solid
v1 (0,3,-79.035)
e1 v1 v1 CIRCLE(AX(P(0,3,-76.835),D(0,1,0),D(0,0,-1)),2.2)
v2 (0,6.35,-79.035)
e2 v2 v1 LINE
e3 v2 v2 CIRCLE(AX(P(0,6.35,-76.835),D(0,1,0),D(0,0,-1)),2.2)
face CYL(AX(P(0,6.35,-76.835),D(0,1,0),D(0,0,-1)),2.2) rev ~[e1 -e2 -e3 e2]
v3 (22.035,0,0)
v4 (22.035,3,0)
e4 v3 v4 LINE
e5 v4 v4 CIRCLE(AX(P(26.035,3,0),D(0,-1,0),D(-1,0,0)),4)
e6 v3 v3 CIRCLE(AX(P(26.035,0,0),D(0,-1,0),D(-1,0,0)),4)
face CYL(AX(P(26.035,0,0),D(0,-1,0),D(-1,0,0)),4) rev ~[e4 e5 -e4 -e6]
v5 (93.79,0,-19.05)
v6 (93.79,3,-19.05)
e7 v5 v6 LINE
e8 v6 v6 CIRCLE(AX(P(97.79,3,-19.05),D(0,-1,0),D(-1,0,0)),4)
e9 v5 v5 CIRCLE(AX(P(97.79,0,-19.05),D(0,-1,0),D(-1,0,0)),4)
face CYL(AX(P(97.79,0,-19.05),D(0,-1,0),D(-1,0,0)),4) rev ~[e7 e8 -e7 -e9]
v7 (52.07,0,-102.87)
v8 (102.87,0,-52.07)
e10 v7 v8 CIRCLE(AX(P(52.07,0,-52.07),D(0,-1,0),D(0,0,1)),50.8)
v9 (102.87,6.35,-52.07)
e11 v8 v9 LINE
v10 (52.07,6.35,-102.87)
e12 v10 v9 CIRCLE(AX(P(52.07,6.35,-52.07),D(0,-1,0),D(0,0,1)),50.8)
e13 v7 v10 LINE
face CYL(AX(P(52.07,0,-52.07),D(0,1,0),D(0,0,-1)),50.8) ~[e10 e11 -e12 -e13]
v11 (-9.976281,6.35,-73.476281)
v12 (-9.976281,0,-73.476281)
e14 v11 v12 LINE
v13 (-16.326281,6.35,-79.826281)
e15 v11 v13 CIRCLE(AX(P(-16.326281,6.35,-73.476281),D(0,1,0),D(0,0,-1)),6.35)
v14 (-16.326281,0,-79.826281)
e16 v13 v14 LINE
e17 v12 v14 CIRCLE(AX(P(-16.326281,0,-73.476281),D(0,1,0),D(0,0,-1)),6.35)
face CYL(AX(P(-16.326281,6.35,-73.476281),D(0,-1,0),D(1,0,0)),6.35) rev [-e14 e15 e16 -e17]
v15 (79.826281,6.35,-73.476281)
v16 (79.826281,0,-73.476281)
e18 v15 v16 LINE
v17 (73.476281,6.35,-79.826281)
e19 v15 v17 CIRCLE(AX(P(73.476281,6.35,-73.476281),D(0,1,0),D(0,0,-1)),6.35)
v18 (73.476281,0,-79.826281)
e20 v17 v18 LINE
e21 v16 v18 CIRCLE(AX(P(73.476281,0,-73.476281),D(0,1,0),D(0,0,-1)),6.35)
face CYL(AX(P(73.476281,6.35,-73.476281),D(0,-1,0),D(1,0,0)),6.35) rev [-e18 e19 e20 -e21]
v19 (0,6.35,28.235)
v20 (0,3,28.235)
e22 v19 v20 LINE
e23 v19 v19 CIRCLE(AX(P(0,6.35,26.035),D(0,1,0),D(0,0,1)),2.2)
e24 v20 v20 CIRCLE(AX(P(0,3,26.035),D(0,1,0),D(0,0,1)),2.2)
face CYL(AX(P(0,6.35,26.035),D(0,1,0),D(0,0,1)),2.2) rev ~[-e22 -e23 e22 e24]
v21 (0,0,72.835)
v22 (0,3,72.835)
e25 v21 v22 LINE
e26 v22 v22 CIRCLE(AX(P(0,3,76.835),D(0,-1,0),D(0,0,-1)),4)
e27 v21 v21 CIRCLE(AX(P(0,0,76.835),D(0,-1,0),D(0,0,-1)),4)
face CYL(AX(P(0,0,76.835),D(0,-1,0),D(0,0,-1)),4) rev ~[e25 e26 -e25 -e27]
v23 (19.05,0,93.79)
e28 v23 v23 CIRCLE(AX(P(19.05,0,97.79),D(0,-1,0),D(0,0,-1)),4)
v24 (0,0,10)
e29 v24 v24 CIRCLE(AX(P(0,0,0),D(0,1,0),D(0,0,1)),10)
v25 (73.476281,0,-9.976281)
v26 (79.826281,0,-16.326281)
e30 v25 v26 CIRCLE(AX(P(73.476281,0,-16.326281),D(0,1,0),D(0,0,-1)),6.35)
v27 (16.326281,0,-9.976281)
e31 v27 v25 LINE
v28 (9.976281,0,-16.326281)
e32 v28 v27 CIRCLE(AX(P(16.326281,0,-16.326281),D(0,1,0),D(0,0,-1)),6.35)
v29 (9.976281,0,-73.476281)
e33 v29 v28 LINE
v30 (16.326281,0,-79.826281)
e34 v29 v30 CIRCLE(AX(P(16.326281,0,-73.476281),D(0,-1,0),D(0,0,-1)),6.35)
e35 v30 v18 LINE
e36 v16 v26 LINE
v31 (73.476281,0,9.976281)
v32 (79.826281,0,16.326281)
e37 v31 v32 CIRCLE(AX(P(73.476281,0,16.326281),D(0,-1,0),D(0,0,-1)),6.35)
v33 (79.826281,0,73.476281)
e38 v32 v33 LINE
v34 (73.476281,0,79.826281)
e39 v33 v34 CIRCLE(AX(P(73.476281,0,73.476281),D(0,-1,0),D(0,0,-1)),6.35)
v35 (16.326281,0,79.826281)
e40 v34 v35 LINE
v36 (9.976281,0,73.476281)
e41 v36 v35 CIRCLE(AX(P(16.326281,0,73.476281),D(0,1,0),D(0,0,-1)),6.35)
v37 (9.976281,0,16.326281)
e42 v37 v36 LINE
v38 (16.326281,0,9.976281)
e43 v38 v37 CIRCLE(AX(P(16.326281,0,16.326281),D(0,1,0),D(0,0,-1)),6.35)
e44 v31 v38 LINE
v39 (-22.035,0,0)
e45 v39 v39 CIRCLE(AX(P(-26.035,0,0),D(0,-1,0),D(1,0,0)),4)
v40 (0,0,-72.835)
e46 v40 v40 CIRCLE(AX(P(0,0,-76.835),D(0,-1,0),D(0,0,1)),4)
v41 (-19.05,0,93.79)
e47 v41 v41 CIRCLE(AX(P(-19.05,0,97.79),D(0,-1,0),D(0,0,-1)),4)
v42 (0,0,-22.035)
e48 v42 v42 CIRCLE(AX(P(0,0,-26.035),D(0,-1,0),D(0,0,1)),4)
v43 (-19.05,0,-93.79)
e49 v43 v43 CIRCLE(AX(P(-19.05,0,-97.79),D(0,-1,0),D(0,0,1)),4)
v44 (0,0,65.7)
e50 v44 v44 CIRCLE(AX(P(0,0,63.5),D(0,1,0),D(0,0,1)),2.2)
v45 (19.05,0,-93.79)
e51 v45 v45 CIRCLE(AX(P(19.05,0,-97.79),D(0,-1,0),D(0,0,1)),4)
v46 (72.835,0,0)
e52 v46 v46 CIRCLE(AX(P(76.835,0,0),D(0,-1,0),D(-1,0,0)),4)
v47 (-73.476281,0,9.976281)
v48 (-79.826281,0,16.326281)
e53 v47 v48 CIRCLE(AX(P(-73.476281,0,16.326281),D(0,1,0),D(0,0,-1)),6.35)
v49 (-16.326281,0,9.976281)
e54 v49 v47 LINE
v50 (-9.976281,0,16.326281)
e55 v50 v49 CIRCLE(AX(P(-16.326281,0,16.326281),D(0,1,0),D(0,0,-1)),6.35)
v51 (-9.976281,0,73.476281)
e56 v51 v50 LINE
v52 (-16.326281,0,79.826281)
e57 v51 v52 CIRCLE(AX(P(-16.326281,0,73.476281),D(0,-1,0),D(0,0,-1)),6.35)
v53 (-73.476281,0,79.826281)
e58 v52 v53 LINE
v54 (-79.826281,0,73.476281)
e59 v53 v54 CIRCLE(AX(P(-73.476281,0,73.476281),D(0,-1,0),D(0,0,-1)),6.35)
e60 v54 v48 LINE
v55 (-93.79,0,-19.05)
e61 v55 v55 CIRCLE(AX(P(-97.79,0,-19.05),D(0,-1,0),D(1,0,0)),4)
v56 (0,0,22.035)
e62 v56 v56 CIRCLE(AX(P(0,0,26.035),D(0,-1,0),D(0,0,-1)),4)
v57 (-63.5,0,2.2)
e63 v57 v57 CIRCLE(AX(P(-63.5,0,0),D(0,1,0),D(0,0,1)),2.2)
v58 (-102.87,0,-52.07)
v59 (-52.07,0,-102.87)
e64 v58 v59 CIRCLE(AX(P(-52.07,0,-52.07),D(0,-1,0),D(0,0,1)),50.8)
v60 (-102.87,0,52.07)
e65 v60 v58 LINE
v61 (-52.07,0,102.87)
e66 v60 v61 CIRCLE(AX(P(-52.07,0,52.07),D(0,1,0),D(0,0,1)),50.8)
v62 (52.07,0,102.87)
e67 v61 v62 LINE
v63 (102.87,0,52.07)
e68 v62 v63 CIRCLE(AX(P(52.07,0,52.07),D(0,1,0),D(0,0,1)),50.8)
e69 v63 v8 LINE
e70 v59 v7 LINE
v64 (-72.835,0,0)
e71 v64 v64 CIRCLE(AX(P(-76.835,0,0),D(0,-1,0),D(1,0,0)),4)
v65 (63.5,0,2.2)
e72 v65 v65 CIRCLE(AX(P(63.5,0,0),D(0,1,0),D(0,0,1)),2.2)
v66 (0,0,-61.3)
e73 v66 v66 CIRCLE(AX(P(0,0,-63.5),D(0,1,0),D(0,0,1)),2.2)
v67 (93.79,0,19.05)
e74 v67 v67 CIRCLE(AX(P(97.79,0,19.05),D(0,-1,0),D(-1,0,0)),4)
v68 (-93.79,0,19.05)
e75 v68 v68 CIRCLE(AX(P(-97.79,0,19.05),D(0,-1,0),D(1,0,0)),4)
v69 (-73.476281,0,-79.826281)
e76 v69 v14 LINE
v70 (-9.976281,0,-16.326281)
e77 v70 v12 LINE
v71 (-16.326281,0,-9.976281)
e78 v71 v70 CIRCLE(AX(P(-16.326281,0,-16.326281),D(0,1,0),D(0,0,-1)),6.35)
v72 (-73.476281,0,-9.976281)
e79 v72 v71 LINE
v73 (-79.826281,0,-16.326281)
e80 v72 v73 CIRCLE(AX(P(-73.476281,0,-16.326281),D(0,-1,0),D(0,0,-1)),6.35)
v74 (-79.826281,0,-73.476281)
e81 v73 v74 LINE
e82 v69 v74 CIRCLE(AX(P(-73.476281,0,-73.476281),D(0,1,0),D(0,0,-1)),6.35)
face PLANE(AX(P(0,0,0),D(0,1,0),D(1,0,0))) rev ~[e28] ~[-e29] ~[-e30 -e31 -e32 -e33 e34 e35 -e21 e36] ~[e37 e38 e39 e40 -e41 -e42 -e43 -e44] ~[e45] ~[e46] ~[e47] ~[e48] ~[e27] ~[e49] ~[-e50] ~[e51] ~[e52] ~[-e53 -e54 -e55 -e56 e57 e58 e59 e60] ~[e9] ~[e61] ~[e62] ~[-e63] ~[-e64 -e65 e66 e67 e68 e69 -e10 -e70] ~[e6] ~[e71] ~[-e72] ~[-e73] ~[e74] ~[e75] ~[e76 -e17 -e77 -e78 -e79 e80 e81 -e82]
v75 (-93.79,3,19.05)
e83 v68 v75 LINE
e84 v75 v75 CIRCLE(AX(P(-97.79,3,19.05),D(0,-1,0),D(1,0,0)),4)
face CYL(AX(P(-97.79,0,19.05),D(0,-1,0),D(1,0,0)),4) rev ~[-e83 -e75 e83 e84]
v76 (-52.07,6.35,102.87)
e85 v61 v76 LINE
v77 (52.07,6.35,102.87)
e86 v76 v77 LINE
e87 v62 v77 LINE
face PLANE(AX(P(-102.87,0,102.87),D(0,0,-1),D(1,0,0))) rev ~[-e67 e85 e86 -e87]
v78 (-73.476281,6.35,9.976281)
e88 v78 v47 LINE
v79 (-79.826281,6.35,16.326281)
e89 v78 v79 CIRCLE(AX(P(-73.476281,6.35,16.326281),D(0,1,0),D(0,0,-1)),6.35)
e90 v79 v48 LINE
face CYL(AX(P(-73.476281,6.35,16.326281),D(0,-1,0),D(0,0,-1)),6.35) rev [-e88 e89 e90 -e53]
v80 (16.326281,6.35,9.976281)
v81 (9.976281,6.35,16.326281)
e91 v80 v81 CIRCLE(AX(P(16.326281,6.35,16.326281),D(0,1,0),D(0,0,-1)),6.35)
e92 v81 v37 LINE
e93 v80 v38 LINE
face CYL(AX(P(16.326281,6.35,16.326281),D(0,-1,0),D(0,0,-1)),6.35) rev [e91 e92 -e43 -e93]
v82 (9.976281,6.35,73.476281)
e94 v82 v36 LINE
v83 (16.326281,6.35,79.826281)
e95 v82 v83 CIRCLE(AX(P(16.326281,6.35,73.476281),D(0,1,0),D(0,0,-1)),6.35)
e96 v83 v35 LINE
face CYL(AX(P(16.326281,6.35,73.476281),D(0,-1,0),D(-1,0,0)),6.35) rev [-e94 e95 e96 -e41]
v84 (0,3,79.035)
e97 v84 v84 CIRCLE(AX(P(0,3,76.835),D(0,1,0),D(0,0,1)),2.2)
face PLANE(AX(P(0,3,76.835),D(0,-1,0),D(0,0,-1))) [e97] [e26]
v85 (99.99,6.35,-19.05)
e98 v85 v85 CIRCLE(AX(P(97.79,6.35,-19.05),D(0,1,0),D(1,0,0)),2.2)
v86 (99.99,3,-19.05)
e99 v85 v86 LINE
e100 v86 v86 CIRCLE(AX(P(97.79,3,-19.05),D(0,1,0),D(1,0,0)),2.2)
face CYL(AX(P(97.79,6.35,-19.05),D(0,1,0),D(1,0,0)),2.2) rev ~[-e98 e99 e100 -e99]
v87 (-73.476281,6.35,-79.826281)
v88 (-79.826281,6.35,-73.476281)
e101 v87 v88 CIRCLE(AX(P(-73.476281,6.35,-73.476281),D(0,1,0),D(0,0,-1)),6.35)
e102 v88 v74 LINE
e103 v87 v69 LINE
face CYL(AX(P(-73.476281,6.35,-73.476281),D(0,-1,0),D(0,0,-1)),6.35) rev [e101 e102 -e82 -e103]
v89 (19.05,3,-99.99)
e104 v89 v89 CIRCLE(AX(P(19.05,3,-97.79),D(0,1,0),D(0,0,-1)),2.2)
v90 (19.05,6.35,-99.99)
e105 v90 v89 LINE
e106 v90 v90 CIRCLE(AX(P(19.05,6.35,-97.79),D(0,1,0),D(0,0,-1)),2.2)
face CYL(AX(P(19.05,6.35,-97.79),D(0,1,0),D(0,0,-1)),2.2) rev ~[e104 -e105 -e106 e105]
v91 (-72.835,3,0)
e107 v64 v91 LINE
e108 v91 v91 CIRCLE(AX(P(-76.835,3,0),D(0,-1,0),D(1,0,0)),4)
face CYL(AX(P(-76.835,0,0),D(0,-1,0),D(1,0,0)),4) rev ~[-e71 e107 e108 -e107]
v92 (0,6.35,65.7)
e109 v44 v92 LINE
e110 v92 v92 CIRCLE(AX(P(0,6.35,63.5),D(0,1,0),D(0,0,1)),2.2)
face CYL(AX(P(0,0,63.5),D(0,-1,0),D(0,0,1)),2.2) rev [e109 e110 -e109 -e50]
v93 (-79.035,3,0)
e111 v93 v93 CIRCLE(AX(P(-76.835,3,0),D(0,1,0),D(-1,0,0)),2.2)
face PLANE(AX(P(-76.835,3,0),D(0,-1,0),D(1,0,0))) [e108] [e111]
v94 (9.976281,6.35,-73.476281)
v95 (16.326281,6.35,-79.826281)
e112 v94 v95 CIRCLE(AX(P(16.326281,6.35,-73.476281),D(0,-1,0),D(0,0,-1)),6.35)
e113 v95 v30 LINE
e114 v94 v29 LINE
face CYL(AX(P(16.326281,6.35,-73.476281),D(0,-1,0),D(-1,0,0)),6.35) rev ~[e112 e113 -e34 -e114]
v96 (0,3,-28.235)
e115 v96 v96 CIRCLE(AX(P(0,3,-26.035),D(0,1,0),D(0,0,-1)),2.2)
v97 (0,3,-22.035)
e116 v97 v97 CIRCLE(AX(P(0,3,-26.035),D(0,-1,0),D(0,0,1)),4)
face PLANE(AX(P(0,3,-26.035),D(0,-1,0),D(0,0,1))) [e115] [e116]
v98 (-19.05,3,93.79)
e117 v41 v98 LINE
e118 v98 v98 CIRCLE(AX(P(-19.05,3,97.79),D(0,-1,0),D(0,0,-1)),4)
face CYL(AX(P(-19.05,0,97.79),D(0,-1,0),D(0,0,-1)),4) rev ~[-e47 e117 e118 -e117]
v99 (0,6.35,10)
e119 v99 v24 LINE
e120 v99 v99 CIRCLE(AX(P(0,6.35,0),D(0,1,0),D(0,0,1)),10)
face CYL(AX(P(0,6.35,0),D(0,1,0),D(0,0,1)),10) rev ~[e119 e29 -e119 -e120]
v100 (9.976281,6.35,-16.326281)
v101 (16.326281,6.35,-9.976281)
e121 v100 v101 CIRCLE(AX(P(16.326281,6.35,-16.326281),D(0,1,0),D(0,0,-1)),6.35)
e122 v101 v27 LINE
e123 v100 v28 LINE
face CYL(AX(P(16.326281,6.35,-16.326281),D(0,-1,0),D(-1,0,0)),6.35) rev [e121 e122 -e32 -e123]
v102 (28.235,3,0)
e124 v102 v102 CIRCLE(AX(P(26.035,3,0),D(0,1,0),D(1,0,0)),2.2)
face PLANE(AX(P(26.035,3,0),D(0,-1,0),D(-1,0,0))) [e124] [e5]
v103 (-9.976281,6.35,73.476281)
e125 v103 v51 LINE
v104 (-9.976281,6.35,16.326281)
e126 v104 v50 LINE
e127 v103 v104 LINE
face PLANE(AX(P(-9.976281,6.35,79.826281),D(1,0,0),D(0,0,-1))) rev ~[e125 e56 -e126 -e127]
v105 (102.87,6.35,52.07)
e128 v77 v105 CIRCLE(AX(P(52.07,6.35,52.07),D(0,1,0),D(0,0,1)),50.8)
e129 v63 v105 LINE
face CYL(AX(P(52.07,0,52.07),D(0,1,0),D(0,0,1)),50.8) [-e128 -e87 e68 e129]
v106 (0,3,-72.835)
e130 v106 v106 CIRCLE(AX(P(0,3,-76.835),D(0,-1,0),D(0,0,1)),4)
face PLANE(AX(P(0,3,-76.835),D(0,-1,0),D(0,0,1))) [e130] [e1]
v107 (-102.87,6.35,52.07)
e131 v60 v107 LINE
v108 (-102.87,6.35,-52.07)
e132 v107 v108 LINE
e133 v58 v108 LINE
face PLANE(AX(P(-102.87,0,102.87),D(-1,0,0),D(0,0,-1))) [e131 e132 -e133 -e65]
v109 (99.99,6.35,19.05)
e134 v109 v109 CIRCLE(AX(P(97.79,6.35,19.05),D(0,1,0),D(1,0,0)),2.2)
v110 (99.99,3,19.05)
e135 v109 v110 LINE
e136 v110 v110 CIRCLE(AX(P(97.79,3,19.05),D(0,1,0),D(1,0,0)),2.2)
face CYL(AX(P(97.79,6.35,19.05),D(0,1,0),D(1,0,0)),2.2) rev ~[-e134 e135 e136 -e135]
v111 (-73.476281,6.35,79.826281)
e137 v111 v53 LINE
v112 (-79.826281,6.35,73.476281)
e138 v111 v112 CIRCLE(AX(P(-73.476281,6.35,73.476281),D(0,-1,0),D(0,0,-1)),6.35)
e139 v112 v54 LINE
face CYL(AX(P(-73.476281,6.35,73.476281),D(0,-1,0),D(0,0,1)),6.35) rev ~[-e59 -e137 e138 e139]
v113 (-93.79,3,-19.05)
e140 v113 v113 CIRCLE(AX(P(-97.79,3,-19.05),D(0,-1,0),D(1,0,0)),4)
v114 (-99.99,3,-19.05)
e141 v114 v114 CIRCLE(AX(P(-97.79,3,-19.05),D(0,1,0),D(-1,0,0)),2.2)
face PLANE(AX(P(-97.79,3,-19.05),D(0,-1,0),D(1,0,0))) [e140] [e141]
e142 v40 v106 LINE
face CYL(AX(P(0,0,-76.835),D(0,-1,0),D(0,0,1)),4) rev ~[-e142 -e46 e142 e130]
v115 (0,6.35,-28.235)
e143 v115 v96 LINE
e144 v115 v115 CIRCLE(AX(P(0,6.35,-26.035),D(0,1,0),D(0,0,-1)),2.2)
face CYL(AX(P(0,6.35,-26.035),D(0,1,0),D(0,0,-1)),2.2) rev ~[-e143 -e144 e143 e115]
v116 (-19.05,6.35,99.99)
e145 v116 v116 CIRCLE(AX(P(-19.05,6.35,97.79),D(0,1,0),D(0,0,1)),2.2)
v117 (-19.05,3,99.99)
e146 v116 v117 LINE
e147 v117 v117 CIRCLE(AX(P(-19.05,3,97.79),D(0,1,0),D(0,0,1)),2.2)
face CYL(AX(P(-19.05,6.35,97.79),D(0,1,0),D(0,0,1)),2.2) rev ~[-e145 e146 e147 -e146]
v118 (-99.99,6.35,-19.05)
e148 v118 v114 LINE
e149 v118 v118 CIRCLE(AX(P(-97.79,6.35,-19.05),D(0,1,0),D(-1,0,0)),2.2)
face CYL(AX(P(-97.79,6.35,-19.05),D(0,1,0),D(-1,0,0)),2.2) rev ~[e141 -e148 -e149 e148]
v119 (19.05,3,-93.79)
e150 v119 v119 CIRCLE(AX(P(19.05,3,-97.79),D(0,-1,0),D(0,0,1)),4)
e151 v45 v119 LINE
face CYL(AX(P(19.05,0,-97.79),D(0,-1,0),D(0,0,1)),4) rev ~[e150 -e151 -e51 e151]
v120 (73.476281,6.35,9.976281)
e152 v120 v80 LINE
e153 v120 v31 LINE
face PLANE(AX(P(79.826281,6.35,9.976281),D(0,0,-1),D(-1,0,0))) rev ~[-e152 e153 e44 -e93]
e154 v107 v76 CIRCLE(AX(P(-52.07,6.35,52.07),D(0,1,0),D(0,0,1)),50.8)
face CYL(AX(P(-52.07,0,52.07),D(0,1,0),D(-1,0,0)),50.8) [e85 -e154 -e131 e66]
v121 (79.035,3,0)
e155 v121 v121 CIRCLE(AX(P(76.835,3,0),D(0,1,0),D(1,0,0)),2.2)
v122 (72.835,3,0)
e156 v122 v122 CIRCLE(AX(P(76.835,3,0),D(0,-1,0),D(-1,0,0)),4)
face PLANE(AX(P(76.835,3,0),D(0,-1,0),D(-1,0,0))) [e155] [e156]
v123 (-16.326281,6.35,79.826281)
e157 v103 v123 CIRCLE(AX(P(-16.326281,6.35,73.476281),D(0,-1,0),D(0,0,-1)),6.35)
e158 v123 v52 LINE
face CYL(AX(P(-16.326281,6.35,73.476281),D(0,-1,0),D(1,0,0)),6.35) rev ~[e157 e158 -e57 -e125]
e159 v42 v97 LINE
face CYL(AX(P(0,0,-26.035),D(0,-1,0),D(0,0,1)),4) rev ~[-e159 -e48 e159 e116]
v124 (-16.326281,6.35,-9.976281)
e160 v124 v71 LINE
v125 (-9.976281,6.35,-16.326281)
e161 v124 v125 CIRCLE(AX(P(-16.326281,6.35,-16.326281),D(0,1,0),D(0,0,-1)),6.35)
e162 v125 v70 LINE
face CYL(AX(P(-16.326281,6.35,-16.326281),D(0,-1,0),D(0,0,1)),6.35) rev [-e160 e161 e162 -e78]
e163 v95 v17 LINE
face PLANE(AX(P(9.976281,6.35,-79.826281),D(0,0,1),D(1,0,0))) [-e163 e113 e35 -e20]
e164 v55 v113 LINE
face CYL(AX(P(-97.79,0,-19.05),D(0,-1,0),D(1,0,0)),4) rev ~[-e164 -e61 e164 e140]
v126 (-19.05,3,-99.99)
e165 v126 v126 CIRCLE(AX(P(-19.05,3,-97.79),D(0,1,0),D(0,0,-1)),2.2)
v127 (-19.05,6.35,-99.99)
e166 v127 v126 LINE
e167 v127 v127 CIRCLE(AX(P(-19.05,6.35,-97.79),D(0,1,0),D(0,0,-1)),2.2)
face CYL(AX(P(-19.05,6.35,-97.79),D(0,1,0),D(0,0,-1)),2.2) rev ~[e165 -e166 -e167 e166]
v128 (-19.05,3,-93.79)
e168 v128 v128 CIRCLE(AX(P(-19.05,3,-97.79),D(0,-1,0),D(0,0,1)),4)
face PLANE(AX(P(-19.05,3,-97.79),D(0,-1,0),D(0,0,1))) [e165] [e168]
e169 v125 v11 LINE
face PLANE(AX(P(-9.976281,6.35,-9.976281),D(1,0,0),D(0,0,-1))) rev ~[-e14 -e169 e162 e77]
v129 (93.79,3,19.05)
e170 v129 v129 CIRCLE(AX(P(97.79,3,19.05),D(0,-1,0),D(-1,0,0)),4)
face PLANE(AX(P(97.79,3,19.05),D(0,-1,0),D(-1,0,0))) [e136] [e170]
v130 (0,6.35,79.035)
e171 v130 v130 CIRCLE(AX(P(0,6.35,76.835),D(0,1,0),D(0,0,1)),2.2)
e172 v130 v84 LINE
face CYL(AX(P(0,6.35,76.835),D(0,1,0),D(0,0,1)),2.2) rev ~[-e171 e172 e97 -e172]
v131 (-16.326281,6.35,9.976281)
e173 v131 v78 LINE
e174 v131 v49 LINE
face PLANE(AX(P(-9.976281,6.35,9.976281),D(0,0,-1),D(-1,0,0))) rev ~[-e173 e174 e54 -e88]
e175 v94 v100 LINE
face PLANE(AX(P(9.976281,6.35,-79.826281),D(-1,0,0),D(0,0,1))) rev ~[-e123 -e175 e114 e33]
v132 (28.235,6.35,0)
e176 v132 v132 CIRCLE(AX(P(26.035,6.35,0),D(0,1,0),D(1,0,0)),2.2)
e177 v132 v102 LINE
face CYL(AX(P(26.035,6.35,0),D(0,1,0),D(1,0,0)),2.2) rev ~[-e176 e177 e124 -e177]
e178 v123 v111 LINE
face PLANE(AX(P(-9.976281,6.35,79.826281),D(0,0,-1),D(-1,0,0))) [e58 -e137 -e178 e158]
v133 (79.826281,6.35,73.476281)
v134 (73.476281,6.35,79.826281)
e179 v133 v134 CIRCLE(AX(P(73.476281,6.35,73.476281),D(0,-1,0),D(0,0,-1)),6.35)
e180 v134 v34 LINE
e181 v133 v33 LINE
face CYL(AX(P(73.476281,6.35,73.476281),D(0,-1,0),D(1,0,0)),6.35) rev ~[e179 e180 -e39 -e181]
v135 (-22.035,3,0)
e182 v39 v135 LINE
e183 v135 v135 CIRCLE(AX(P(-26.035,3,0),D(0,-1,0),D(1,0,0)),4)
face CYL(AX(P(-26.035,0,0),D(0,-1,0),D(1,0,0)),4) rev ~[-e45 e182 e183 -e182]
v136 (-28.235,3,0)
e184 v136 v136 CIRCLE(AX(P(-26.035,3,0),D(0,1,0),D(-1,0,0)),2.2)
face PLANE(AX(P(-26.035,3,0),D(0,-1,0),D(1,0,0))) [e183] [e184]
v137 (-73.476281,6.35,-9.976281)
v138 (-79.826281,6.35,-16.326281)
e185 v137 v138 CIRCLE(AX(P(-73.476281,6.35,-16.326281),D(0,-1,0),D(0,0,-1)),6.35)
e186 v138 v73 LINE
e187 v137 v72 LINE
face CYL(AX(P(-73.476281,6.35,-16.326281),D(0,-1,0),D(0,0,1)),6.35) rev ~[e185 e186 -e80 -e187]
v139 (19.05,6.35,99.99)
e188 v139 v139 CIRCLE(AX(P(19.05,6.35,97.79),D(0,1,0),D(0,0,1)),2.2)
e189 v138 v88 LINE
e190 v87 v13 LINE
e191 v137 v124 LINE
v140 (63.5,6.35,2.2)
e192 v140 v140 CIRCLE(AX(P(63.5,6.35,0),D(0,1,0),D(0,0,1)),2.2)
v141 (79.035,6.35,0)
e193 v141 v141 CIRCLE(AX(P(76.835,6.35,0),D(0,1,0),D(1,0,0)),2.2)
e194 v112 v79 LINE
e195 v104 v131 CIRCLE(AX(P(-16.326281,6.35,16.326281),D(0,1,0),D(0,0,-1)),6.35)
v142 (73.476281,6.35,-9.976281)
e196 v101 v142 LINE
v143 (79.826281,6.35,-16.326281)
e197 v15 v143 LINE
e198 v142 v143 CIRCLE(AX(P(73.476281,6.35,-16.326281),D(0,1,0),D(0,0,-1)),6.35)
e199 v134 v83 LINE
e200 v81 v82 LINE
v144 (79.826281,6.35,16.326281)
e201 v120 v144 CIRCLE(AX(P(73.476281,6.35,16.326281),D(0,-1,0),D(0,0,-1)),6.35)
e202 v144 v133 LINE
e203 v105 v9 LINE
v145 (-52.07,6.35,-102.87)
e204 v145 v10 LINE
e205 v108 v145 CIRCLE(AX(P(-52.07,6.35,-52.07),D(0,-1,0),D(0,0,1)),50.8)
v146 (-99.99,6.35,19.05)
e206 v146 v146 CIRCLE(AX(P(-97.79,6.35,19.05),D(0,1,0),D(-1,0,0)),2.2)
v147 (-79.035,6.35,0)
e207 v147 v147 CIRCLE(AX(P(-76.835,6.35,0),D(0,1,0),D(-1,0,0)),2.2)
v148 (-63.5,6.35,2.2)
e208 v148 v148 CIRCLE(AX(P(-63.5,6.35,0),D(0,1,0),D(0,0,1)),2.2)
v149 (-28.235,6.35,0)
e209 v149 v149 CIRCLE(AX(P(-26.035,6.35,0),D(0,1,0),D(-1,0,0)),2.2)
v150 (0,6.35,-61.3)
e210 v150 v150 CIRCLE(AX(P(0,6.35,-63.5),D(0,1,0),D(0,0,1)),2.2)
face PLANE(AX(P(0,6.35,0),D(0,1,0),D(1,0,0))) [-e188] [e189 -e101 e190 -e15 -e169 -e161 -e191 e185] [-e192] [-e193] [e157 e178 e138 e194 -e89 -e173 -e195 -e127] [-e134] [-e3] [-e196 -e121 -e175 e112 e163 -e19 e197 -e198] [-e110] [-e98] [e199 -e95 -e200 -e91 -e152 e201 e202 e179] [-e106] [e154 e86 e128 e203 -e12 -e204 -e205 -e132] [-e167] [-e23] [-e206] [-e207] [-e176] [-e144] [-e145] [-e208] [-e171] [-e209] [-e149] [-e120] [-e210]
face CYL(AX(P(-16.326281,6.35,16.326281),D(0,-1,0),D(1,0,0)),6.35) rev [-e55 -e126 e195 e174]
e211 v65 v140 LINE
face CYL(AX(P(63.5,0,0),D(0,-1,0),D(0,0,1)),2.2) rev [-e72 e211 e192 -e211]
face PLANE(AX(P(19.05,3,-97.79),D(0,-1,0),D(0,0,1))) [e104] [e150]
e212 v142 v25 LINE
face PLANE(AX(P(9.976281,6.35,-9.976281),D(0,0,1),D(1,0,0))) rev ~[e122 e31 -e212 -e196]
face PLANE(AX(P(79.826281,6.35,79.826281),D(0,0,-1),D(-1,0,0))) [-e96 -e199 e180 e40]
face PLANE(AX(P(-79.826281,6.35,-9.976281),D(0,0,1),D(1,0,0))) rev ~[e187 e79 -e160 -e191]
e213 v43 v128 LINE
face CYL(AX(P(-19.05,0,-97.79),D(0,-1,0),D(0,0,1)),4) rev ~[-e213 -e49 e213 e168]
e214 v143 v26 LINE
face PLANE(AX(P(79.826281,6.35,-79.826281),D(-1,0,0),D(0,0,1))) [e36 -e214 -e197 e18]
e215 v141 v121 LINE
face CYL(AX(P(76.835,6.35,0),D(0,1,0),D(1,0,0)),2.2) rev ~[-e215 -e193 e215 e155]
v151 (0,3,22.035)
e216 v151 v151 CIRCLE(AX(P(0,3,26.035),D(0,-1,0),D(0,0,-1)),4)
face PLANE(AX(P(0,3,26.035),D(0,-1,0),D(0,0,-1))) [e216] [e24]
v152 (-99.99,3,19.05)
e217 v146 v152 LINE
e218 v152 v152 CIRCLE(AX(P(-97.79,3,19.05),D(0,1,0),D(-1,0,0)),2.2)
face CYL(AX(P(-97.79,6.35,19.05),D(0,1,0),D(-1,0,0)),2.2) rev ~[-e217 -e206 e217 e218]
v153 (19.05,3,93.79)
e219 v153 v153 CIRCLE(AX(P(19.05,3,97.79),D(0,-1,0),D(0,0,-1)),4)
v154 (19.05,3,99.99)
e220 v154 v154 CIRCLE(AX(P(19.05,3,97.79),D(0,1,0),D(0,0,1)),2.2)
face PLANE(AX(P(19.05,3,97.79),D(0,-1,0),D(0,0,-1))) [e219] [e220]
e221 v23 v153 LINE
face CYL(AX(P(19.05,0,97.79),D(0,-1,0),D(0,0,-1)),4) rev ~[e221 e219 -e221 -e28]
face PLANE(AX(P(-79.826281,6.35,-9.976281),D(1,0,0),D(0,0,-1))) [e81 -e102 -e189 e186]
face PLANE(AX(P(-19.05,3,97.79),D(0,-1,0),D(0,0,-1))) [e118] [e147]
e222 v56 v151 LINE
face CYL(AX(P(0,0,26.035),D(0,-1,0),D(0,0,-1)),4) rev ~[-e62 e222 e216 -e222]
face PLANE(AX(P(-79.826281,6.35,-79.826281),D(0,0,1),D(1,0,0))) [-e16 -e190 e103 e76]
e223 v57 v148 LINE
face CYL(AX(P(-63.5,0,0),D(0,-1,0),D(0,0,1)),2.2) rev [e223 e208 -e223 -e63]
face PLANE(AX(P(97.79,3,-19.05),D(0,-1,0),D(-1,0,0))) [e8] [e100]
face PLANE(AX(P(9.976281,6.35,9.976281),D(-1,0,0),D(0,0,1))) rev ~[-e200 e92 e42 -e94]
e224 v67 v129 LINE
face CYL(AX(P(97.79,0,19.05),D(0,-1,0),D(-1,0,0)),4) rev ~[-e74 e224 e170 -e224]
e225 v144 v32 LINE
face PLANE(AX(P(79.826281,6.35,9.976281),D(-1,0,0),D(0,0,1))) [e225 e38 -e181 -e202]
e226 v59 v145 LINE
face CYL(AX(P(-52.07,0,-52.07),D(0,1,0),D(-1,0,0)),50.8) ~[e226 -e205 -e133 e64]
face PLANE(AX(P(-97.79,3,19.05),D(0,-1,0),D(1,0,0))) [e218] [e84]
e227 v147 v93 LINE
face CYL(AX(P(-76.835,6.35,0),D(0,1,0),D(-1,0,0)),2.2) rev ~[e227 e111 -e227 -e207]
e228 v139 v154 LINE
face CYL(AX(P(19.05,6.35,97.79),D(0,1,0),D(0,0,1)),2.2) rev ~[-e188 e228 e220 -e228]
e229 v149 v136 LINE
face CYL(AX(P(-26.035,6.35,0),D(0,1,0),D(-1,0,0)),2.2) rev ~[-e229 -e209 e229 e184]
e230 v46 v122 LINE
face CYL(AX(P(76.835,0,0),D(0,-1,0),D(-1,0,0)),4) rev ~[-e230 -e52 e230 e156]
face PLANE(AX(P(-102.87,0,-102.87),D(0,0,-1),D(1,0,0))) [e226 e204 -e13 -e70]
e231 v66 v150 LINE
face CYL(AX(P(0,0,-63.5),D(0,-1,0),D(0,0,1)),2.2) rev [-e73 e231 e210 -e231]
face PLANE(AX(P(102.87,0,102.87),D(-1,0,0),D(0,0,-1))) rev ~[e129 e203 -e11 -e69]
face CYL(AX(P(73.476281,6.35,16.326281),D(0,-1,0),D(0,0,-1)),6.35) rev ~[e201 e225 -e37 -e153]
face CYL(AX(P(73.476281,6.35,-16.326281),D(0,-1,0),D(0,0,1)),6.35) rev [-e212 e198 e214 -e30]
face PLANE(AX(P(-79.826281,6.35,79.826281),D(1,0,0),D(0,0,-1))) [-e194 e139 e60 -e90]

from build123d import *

# Parameters (mm, degrees)
SKETCH1_W                = 205.74
SKETCH1_H                = 205.74
SKETCH1_R                = 2.200000045
BOSS_EXTRUDE1_DEPTH      = 6.35
SKETCH3_R                = 9.999999939
CUT_EXTRUDE2_DEPTH       = 146.618667416
SKETCH4_W                = 69.85
SKETCH4_H                = 69.85
CUT_EXTRUDE3_DEPTH       = 146.618667416
FILLET1_R                = 6.35
CIRPATTERN2_COUNT        = 4
FILLET1_OF_CIRPATTERN2_R = 6.35
FILLET2_R                = 50.8
SKETCH10_R               = 2.200000045
CUT_EXTRUDE6_DEPTH       = 146.618667416
SKETCH11_R               = 4.000000001
CUT_EXTRUDE7_DEPTH       = 3.000000096
CIRPATTERN4_COUNT        = 4


with BuildPart() as part:
    # Sketch1 → Boss-Extrude1 (new body)
    with BuildSketch(Plane(origin=(0, 0, 0), x_dir=(1, 0, 0), z_dir=(0, 1, 0))):
        Rectangle(SKETCH1_W, SKETCH1_H)
        with Locations(Location((63.5, 0, 0), (0, 0, 270))):
            Circle(SKETCH1_R, mode=Mode.SUBTRACT)
        with Locations(Location((0, -63.5, 0), (0, 0, 270))):
            Circle(SKETCH1_R, mode=Mode.SUBTRACT)
        with Locations(Location((-63.5, 0, 0), (0, 0, 270))):
            Circle(SKETCH1_R, mode=Mode.SUBTRACT)
        with Locations(Location((0, 63.5, 0), (0, 0, 270))):
            Circle(SKETCH1_R, mode=Mode.SUBTRACT)
    extrude(amount=BOSS_EXTRUDE1_DEPTH)

    # Sketch3 → Cut-Extrude2 (cut, through all)
    with BuildSketch(Plane(origin=(0, 6.35, 0), x_dir=(1, 0, 0), z_dir=(0, 1, 0))):
        with Locations(Location((0, 0, 0), (0, 0, 270))):
            Circle(SKETCH3_R)
    extrude(amount=-CUT_EXTRUDE2_DEPTH, mode=Mode.SUBTRACT)

    # Sketch4 → Cut-Extrude3 (cut, through all)
    with BuildSketch(Plane(origin=(0, 6.35, 0), x_dir=(1, 0, 0), z_dir=(0, 1, 0))):
        with Locations((-44.901280605, 44.901280605)):
            Rectangle(SKETCH4_W, SKETCH4_H)
    cut_extrude3 = extrude(amount=-CUT_EXTRUDE3_DEPTH, mode=Mode.SUBTRACT)

    # Fillet1
    fillet1_edges = [part.edges().sort_by_distance(p)[0] for p in [
        (-9.976280605, 3.175, -79.826280605),
        (-9.976280605, 3.175, -9.976280605),
        (-79.826280605, 3.175, -9.976280605),
        (-79.826280605, 3.175, -79.826280605),
    ]]
    fillet(fillet1_edges, radius=FILLET1_R)

    # CirPattern2: Cut-Extrude3 ×4 about axis
    cirpattern2_axis = Axis((0, 0, 0), (0, 1, 0))
    for i in range(1, CIRPATTERN2_COUNT):
        add(cut_extrude3.rotate(cirpattern2_axis, i * 360 / CIRPATTERN2_COUNT), mode=Mode.SUBTRACT)

    # Fillet1 of CirPattern2
    fillet1_of_cirpattern2_edges = [part.edges().sort_by_distance(p)[0] for p in [
        (-79.826280605, 3.175, 9.976280605),
        (-9.976280605, 3.175, 9.976280605),
        (-9.976280605, 3.175, 79.826280605),
        (-79.826280605, 3.175, 79.826280605),
        (9.976280605, 3.175, 79.826280605),
        (9.976280605, 3.175, 9.976280605),
        (79.826280605, 3.175, 9.976280605),
        (79.826280605, 3.175, 79.826280605),
        (79.826280605, 3.175, -9.976280605),
        (9.976280605, 3.175, -9.976280605),
        (9.976280605, 3.175, -79.826280605),
        (79.826280605, 3.175, -79.826280605),
    ]]
    fillet(fillet1_of_cirpattern2_edges, radius=FILLET1_OF_CIRPATTERN2_R)

    # Fillet2
    fillet2_edges = [part.edges().sort_by_distance(p)[0] for p in [
        (102.87, 3.175, 102.87),
        (-102.87, 3.175, 102.87),
        (-102.87, 3.175, -102.87),
        (102.87, 3.175, -102.87),
    ]]
    fillet(fillet2_edges, radius=FILLET2_R)

    # Sketch10 → Cut-Extrude6 (cut, through all)
    with BuildSketch(Plane(origin=(0, 6.35, 0), x_dir=(1, 0, 0), z_dir=(0, 1, 0))):
        with Locations(Location((0, -26.035, 0), (0, 0, 270))):
            Circle(SKETCH10_R)
        with Locations(Location((0, -76.835, 0), (0, 0, 270))):
            Circle(SKETCH10_R)
        with Locations(Location((-19.05, -97.79, 0), (0, 0, 270))):
            Circle(SKETCH10_R)
        with Locations(Location((19.05, -97.79, 0), (0, 0, 270))):
            Circle(SKETCH10_R)
    cut_extrude6 = extrude(amount=-CUT_EXTRUDE6_DEPTH, mode=Mode.SUBTRACT)

    # Sketch11 → Cut-Extrude7 (cut)
    with BuildSketch(Plane.XZ):
        with Locations(Location((-19.05, 97.79, 0), (0, 0, 270))):
            Circle(SKETCH11_R)
        with Locations(Location((19.05, 97.79, 0), (0, 0, 270))):
            Circle(SKETCH11_R)
        with Locations(Location((0, 76.835, 0), (0, 0, 270))):
            Circle(SKETCH11_R)
        with Locations(Location((0, 26.035, 0), (0, 0, 270))):
            Circle(SKETCH11_R)
    cut_extrude7 = extrude(amount=-CUT_EXTRUDE7_DEPTH, mode=Mode.SUBTRACT)

    # CirPattern4: Cut-Extrude6, Cut-Extrude7 ×4 about axis
    cirpattern4_axis = Axis((0, 0, 0), (0, 1, 0))
    add([cut_extrude6.rotate(cirpattern4_axis, i * 360 / CIRPATTERN4_COUNT) for i in range(1, CIRPATTERN4_COUNT)], mode=Mode.SUBTRACT)
    add([cut_extrude7.rotate(cirpattern4_axis, i * 360 / CIRPATTERN4_COUNT) for i in range(1, CIRPATTERN4_COUNT)], mode=Mode.SUBTRACT)


solid = part.part
